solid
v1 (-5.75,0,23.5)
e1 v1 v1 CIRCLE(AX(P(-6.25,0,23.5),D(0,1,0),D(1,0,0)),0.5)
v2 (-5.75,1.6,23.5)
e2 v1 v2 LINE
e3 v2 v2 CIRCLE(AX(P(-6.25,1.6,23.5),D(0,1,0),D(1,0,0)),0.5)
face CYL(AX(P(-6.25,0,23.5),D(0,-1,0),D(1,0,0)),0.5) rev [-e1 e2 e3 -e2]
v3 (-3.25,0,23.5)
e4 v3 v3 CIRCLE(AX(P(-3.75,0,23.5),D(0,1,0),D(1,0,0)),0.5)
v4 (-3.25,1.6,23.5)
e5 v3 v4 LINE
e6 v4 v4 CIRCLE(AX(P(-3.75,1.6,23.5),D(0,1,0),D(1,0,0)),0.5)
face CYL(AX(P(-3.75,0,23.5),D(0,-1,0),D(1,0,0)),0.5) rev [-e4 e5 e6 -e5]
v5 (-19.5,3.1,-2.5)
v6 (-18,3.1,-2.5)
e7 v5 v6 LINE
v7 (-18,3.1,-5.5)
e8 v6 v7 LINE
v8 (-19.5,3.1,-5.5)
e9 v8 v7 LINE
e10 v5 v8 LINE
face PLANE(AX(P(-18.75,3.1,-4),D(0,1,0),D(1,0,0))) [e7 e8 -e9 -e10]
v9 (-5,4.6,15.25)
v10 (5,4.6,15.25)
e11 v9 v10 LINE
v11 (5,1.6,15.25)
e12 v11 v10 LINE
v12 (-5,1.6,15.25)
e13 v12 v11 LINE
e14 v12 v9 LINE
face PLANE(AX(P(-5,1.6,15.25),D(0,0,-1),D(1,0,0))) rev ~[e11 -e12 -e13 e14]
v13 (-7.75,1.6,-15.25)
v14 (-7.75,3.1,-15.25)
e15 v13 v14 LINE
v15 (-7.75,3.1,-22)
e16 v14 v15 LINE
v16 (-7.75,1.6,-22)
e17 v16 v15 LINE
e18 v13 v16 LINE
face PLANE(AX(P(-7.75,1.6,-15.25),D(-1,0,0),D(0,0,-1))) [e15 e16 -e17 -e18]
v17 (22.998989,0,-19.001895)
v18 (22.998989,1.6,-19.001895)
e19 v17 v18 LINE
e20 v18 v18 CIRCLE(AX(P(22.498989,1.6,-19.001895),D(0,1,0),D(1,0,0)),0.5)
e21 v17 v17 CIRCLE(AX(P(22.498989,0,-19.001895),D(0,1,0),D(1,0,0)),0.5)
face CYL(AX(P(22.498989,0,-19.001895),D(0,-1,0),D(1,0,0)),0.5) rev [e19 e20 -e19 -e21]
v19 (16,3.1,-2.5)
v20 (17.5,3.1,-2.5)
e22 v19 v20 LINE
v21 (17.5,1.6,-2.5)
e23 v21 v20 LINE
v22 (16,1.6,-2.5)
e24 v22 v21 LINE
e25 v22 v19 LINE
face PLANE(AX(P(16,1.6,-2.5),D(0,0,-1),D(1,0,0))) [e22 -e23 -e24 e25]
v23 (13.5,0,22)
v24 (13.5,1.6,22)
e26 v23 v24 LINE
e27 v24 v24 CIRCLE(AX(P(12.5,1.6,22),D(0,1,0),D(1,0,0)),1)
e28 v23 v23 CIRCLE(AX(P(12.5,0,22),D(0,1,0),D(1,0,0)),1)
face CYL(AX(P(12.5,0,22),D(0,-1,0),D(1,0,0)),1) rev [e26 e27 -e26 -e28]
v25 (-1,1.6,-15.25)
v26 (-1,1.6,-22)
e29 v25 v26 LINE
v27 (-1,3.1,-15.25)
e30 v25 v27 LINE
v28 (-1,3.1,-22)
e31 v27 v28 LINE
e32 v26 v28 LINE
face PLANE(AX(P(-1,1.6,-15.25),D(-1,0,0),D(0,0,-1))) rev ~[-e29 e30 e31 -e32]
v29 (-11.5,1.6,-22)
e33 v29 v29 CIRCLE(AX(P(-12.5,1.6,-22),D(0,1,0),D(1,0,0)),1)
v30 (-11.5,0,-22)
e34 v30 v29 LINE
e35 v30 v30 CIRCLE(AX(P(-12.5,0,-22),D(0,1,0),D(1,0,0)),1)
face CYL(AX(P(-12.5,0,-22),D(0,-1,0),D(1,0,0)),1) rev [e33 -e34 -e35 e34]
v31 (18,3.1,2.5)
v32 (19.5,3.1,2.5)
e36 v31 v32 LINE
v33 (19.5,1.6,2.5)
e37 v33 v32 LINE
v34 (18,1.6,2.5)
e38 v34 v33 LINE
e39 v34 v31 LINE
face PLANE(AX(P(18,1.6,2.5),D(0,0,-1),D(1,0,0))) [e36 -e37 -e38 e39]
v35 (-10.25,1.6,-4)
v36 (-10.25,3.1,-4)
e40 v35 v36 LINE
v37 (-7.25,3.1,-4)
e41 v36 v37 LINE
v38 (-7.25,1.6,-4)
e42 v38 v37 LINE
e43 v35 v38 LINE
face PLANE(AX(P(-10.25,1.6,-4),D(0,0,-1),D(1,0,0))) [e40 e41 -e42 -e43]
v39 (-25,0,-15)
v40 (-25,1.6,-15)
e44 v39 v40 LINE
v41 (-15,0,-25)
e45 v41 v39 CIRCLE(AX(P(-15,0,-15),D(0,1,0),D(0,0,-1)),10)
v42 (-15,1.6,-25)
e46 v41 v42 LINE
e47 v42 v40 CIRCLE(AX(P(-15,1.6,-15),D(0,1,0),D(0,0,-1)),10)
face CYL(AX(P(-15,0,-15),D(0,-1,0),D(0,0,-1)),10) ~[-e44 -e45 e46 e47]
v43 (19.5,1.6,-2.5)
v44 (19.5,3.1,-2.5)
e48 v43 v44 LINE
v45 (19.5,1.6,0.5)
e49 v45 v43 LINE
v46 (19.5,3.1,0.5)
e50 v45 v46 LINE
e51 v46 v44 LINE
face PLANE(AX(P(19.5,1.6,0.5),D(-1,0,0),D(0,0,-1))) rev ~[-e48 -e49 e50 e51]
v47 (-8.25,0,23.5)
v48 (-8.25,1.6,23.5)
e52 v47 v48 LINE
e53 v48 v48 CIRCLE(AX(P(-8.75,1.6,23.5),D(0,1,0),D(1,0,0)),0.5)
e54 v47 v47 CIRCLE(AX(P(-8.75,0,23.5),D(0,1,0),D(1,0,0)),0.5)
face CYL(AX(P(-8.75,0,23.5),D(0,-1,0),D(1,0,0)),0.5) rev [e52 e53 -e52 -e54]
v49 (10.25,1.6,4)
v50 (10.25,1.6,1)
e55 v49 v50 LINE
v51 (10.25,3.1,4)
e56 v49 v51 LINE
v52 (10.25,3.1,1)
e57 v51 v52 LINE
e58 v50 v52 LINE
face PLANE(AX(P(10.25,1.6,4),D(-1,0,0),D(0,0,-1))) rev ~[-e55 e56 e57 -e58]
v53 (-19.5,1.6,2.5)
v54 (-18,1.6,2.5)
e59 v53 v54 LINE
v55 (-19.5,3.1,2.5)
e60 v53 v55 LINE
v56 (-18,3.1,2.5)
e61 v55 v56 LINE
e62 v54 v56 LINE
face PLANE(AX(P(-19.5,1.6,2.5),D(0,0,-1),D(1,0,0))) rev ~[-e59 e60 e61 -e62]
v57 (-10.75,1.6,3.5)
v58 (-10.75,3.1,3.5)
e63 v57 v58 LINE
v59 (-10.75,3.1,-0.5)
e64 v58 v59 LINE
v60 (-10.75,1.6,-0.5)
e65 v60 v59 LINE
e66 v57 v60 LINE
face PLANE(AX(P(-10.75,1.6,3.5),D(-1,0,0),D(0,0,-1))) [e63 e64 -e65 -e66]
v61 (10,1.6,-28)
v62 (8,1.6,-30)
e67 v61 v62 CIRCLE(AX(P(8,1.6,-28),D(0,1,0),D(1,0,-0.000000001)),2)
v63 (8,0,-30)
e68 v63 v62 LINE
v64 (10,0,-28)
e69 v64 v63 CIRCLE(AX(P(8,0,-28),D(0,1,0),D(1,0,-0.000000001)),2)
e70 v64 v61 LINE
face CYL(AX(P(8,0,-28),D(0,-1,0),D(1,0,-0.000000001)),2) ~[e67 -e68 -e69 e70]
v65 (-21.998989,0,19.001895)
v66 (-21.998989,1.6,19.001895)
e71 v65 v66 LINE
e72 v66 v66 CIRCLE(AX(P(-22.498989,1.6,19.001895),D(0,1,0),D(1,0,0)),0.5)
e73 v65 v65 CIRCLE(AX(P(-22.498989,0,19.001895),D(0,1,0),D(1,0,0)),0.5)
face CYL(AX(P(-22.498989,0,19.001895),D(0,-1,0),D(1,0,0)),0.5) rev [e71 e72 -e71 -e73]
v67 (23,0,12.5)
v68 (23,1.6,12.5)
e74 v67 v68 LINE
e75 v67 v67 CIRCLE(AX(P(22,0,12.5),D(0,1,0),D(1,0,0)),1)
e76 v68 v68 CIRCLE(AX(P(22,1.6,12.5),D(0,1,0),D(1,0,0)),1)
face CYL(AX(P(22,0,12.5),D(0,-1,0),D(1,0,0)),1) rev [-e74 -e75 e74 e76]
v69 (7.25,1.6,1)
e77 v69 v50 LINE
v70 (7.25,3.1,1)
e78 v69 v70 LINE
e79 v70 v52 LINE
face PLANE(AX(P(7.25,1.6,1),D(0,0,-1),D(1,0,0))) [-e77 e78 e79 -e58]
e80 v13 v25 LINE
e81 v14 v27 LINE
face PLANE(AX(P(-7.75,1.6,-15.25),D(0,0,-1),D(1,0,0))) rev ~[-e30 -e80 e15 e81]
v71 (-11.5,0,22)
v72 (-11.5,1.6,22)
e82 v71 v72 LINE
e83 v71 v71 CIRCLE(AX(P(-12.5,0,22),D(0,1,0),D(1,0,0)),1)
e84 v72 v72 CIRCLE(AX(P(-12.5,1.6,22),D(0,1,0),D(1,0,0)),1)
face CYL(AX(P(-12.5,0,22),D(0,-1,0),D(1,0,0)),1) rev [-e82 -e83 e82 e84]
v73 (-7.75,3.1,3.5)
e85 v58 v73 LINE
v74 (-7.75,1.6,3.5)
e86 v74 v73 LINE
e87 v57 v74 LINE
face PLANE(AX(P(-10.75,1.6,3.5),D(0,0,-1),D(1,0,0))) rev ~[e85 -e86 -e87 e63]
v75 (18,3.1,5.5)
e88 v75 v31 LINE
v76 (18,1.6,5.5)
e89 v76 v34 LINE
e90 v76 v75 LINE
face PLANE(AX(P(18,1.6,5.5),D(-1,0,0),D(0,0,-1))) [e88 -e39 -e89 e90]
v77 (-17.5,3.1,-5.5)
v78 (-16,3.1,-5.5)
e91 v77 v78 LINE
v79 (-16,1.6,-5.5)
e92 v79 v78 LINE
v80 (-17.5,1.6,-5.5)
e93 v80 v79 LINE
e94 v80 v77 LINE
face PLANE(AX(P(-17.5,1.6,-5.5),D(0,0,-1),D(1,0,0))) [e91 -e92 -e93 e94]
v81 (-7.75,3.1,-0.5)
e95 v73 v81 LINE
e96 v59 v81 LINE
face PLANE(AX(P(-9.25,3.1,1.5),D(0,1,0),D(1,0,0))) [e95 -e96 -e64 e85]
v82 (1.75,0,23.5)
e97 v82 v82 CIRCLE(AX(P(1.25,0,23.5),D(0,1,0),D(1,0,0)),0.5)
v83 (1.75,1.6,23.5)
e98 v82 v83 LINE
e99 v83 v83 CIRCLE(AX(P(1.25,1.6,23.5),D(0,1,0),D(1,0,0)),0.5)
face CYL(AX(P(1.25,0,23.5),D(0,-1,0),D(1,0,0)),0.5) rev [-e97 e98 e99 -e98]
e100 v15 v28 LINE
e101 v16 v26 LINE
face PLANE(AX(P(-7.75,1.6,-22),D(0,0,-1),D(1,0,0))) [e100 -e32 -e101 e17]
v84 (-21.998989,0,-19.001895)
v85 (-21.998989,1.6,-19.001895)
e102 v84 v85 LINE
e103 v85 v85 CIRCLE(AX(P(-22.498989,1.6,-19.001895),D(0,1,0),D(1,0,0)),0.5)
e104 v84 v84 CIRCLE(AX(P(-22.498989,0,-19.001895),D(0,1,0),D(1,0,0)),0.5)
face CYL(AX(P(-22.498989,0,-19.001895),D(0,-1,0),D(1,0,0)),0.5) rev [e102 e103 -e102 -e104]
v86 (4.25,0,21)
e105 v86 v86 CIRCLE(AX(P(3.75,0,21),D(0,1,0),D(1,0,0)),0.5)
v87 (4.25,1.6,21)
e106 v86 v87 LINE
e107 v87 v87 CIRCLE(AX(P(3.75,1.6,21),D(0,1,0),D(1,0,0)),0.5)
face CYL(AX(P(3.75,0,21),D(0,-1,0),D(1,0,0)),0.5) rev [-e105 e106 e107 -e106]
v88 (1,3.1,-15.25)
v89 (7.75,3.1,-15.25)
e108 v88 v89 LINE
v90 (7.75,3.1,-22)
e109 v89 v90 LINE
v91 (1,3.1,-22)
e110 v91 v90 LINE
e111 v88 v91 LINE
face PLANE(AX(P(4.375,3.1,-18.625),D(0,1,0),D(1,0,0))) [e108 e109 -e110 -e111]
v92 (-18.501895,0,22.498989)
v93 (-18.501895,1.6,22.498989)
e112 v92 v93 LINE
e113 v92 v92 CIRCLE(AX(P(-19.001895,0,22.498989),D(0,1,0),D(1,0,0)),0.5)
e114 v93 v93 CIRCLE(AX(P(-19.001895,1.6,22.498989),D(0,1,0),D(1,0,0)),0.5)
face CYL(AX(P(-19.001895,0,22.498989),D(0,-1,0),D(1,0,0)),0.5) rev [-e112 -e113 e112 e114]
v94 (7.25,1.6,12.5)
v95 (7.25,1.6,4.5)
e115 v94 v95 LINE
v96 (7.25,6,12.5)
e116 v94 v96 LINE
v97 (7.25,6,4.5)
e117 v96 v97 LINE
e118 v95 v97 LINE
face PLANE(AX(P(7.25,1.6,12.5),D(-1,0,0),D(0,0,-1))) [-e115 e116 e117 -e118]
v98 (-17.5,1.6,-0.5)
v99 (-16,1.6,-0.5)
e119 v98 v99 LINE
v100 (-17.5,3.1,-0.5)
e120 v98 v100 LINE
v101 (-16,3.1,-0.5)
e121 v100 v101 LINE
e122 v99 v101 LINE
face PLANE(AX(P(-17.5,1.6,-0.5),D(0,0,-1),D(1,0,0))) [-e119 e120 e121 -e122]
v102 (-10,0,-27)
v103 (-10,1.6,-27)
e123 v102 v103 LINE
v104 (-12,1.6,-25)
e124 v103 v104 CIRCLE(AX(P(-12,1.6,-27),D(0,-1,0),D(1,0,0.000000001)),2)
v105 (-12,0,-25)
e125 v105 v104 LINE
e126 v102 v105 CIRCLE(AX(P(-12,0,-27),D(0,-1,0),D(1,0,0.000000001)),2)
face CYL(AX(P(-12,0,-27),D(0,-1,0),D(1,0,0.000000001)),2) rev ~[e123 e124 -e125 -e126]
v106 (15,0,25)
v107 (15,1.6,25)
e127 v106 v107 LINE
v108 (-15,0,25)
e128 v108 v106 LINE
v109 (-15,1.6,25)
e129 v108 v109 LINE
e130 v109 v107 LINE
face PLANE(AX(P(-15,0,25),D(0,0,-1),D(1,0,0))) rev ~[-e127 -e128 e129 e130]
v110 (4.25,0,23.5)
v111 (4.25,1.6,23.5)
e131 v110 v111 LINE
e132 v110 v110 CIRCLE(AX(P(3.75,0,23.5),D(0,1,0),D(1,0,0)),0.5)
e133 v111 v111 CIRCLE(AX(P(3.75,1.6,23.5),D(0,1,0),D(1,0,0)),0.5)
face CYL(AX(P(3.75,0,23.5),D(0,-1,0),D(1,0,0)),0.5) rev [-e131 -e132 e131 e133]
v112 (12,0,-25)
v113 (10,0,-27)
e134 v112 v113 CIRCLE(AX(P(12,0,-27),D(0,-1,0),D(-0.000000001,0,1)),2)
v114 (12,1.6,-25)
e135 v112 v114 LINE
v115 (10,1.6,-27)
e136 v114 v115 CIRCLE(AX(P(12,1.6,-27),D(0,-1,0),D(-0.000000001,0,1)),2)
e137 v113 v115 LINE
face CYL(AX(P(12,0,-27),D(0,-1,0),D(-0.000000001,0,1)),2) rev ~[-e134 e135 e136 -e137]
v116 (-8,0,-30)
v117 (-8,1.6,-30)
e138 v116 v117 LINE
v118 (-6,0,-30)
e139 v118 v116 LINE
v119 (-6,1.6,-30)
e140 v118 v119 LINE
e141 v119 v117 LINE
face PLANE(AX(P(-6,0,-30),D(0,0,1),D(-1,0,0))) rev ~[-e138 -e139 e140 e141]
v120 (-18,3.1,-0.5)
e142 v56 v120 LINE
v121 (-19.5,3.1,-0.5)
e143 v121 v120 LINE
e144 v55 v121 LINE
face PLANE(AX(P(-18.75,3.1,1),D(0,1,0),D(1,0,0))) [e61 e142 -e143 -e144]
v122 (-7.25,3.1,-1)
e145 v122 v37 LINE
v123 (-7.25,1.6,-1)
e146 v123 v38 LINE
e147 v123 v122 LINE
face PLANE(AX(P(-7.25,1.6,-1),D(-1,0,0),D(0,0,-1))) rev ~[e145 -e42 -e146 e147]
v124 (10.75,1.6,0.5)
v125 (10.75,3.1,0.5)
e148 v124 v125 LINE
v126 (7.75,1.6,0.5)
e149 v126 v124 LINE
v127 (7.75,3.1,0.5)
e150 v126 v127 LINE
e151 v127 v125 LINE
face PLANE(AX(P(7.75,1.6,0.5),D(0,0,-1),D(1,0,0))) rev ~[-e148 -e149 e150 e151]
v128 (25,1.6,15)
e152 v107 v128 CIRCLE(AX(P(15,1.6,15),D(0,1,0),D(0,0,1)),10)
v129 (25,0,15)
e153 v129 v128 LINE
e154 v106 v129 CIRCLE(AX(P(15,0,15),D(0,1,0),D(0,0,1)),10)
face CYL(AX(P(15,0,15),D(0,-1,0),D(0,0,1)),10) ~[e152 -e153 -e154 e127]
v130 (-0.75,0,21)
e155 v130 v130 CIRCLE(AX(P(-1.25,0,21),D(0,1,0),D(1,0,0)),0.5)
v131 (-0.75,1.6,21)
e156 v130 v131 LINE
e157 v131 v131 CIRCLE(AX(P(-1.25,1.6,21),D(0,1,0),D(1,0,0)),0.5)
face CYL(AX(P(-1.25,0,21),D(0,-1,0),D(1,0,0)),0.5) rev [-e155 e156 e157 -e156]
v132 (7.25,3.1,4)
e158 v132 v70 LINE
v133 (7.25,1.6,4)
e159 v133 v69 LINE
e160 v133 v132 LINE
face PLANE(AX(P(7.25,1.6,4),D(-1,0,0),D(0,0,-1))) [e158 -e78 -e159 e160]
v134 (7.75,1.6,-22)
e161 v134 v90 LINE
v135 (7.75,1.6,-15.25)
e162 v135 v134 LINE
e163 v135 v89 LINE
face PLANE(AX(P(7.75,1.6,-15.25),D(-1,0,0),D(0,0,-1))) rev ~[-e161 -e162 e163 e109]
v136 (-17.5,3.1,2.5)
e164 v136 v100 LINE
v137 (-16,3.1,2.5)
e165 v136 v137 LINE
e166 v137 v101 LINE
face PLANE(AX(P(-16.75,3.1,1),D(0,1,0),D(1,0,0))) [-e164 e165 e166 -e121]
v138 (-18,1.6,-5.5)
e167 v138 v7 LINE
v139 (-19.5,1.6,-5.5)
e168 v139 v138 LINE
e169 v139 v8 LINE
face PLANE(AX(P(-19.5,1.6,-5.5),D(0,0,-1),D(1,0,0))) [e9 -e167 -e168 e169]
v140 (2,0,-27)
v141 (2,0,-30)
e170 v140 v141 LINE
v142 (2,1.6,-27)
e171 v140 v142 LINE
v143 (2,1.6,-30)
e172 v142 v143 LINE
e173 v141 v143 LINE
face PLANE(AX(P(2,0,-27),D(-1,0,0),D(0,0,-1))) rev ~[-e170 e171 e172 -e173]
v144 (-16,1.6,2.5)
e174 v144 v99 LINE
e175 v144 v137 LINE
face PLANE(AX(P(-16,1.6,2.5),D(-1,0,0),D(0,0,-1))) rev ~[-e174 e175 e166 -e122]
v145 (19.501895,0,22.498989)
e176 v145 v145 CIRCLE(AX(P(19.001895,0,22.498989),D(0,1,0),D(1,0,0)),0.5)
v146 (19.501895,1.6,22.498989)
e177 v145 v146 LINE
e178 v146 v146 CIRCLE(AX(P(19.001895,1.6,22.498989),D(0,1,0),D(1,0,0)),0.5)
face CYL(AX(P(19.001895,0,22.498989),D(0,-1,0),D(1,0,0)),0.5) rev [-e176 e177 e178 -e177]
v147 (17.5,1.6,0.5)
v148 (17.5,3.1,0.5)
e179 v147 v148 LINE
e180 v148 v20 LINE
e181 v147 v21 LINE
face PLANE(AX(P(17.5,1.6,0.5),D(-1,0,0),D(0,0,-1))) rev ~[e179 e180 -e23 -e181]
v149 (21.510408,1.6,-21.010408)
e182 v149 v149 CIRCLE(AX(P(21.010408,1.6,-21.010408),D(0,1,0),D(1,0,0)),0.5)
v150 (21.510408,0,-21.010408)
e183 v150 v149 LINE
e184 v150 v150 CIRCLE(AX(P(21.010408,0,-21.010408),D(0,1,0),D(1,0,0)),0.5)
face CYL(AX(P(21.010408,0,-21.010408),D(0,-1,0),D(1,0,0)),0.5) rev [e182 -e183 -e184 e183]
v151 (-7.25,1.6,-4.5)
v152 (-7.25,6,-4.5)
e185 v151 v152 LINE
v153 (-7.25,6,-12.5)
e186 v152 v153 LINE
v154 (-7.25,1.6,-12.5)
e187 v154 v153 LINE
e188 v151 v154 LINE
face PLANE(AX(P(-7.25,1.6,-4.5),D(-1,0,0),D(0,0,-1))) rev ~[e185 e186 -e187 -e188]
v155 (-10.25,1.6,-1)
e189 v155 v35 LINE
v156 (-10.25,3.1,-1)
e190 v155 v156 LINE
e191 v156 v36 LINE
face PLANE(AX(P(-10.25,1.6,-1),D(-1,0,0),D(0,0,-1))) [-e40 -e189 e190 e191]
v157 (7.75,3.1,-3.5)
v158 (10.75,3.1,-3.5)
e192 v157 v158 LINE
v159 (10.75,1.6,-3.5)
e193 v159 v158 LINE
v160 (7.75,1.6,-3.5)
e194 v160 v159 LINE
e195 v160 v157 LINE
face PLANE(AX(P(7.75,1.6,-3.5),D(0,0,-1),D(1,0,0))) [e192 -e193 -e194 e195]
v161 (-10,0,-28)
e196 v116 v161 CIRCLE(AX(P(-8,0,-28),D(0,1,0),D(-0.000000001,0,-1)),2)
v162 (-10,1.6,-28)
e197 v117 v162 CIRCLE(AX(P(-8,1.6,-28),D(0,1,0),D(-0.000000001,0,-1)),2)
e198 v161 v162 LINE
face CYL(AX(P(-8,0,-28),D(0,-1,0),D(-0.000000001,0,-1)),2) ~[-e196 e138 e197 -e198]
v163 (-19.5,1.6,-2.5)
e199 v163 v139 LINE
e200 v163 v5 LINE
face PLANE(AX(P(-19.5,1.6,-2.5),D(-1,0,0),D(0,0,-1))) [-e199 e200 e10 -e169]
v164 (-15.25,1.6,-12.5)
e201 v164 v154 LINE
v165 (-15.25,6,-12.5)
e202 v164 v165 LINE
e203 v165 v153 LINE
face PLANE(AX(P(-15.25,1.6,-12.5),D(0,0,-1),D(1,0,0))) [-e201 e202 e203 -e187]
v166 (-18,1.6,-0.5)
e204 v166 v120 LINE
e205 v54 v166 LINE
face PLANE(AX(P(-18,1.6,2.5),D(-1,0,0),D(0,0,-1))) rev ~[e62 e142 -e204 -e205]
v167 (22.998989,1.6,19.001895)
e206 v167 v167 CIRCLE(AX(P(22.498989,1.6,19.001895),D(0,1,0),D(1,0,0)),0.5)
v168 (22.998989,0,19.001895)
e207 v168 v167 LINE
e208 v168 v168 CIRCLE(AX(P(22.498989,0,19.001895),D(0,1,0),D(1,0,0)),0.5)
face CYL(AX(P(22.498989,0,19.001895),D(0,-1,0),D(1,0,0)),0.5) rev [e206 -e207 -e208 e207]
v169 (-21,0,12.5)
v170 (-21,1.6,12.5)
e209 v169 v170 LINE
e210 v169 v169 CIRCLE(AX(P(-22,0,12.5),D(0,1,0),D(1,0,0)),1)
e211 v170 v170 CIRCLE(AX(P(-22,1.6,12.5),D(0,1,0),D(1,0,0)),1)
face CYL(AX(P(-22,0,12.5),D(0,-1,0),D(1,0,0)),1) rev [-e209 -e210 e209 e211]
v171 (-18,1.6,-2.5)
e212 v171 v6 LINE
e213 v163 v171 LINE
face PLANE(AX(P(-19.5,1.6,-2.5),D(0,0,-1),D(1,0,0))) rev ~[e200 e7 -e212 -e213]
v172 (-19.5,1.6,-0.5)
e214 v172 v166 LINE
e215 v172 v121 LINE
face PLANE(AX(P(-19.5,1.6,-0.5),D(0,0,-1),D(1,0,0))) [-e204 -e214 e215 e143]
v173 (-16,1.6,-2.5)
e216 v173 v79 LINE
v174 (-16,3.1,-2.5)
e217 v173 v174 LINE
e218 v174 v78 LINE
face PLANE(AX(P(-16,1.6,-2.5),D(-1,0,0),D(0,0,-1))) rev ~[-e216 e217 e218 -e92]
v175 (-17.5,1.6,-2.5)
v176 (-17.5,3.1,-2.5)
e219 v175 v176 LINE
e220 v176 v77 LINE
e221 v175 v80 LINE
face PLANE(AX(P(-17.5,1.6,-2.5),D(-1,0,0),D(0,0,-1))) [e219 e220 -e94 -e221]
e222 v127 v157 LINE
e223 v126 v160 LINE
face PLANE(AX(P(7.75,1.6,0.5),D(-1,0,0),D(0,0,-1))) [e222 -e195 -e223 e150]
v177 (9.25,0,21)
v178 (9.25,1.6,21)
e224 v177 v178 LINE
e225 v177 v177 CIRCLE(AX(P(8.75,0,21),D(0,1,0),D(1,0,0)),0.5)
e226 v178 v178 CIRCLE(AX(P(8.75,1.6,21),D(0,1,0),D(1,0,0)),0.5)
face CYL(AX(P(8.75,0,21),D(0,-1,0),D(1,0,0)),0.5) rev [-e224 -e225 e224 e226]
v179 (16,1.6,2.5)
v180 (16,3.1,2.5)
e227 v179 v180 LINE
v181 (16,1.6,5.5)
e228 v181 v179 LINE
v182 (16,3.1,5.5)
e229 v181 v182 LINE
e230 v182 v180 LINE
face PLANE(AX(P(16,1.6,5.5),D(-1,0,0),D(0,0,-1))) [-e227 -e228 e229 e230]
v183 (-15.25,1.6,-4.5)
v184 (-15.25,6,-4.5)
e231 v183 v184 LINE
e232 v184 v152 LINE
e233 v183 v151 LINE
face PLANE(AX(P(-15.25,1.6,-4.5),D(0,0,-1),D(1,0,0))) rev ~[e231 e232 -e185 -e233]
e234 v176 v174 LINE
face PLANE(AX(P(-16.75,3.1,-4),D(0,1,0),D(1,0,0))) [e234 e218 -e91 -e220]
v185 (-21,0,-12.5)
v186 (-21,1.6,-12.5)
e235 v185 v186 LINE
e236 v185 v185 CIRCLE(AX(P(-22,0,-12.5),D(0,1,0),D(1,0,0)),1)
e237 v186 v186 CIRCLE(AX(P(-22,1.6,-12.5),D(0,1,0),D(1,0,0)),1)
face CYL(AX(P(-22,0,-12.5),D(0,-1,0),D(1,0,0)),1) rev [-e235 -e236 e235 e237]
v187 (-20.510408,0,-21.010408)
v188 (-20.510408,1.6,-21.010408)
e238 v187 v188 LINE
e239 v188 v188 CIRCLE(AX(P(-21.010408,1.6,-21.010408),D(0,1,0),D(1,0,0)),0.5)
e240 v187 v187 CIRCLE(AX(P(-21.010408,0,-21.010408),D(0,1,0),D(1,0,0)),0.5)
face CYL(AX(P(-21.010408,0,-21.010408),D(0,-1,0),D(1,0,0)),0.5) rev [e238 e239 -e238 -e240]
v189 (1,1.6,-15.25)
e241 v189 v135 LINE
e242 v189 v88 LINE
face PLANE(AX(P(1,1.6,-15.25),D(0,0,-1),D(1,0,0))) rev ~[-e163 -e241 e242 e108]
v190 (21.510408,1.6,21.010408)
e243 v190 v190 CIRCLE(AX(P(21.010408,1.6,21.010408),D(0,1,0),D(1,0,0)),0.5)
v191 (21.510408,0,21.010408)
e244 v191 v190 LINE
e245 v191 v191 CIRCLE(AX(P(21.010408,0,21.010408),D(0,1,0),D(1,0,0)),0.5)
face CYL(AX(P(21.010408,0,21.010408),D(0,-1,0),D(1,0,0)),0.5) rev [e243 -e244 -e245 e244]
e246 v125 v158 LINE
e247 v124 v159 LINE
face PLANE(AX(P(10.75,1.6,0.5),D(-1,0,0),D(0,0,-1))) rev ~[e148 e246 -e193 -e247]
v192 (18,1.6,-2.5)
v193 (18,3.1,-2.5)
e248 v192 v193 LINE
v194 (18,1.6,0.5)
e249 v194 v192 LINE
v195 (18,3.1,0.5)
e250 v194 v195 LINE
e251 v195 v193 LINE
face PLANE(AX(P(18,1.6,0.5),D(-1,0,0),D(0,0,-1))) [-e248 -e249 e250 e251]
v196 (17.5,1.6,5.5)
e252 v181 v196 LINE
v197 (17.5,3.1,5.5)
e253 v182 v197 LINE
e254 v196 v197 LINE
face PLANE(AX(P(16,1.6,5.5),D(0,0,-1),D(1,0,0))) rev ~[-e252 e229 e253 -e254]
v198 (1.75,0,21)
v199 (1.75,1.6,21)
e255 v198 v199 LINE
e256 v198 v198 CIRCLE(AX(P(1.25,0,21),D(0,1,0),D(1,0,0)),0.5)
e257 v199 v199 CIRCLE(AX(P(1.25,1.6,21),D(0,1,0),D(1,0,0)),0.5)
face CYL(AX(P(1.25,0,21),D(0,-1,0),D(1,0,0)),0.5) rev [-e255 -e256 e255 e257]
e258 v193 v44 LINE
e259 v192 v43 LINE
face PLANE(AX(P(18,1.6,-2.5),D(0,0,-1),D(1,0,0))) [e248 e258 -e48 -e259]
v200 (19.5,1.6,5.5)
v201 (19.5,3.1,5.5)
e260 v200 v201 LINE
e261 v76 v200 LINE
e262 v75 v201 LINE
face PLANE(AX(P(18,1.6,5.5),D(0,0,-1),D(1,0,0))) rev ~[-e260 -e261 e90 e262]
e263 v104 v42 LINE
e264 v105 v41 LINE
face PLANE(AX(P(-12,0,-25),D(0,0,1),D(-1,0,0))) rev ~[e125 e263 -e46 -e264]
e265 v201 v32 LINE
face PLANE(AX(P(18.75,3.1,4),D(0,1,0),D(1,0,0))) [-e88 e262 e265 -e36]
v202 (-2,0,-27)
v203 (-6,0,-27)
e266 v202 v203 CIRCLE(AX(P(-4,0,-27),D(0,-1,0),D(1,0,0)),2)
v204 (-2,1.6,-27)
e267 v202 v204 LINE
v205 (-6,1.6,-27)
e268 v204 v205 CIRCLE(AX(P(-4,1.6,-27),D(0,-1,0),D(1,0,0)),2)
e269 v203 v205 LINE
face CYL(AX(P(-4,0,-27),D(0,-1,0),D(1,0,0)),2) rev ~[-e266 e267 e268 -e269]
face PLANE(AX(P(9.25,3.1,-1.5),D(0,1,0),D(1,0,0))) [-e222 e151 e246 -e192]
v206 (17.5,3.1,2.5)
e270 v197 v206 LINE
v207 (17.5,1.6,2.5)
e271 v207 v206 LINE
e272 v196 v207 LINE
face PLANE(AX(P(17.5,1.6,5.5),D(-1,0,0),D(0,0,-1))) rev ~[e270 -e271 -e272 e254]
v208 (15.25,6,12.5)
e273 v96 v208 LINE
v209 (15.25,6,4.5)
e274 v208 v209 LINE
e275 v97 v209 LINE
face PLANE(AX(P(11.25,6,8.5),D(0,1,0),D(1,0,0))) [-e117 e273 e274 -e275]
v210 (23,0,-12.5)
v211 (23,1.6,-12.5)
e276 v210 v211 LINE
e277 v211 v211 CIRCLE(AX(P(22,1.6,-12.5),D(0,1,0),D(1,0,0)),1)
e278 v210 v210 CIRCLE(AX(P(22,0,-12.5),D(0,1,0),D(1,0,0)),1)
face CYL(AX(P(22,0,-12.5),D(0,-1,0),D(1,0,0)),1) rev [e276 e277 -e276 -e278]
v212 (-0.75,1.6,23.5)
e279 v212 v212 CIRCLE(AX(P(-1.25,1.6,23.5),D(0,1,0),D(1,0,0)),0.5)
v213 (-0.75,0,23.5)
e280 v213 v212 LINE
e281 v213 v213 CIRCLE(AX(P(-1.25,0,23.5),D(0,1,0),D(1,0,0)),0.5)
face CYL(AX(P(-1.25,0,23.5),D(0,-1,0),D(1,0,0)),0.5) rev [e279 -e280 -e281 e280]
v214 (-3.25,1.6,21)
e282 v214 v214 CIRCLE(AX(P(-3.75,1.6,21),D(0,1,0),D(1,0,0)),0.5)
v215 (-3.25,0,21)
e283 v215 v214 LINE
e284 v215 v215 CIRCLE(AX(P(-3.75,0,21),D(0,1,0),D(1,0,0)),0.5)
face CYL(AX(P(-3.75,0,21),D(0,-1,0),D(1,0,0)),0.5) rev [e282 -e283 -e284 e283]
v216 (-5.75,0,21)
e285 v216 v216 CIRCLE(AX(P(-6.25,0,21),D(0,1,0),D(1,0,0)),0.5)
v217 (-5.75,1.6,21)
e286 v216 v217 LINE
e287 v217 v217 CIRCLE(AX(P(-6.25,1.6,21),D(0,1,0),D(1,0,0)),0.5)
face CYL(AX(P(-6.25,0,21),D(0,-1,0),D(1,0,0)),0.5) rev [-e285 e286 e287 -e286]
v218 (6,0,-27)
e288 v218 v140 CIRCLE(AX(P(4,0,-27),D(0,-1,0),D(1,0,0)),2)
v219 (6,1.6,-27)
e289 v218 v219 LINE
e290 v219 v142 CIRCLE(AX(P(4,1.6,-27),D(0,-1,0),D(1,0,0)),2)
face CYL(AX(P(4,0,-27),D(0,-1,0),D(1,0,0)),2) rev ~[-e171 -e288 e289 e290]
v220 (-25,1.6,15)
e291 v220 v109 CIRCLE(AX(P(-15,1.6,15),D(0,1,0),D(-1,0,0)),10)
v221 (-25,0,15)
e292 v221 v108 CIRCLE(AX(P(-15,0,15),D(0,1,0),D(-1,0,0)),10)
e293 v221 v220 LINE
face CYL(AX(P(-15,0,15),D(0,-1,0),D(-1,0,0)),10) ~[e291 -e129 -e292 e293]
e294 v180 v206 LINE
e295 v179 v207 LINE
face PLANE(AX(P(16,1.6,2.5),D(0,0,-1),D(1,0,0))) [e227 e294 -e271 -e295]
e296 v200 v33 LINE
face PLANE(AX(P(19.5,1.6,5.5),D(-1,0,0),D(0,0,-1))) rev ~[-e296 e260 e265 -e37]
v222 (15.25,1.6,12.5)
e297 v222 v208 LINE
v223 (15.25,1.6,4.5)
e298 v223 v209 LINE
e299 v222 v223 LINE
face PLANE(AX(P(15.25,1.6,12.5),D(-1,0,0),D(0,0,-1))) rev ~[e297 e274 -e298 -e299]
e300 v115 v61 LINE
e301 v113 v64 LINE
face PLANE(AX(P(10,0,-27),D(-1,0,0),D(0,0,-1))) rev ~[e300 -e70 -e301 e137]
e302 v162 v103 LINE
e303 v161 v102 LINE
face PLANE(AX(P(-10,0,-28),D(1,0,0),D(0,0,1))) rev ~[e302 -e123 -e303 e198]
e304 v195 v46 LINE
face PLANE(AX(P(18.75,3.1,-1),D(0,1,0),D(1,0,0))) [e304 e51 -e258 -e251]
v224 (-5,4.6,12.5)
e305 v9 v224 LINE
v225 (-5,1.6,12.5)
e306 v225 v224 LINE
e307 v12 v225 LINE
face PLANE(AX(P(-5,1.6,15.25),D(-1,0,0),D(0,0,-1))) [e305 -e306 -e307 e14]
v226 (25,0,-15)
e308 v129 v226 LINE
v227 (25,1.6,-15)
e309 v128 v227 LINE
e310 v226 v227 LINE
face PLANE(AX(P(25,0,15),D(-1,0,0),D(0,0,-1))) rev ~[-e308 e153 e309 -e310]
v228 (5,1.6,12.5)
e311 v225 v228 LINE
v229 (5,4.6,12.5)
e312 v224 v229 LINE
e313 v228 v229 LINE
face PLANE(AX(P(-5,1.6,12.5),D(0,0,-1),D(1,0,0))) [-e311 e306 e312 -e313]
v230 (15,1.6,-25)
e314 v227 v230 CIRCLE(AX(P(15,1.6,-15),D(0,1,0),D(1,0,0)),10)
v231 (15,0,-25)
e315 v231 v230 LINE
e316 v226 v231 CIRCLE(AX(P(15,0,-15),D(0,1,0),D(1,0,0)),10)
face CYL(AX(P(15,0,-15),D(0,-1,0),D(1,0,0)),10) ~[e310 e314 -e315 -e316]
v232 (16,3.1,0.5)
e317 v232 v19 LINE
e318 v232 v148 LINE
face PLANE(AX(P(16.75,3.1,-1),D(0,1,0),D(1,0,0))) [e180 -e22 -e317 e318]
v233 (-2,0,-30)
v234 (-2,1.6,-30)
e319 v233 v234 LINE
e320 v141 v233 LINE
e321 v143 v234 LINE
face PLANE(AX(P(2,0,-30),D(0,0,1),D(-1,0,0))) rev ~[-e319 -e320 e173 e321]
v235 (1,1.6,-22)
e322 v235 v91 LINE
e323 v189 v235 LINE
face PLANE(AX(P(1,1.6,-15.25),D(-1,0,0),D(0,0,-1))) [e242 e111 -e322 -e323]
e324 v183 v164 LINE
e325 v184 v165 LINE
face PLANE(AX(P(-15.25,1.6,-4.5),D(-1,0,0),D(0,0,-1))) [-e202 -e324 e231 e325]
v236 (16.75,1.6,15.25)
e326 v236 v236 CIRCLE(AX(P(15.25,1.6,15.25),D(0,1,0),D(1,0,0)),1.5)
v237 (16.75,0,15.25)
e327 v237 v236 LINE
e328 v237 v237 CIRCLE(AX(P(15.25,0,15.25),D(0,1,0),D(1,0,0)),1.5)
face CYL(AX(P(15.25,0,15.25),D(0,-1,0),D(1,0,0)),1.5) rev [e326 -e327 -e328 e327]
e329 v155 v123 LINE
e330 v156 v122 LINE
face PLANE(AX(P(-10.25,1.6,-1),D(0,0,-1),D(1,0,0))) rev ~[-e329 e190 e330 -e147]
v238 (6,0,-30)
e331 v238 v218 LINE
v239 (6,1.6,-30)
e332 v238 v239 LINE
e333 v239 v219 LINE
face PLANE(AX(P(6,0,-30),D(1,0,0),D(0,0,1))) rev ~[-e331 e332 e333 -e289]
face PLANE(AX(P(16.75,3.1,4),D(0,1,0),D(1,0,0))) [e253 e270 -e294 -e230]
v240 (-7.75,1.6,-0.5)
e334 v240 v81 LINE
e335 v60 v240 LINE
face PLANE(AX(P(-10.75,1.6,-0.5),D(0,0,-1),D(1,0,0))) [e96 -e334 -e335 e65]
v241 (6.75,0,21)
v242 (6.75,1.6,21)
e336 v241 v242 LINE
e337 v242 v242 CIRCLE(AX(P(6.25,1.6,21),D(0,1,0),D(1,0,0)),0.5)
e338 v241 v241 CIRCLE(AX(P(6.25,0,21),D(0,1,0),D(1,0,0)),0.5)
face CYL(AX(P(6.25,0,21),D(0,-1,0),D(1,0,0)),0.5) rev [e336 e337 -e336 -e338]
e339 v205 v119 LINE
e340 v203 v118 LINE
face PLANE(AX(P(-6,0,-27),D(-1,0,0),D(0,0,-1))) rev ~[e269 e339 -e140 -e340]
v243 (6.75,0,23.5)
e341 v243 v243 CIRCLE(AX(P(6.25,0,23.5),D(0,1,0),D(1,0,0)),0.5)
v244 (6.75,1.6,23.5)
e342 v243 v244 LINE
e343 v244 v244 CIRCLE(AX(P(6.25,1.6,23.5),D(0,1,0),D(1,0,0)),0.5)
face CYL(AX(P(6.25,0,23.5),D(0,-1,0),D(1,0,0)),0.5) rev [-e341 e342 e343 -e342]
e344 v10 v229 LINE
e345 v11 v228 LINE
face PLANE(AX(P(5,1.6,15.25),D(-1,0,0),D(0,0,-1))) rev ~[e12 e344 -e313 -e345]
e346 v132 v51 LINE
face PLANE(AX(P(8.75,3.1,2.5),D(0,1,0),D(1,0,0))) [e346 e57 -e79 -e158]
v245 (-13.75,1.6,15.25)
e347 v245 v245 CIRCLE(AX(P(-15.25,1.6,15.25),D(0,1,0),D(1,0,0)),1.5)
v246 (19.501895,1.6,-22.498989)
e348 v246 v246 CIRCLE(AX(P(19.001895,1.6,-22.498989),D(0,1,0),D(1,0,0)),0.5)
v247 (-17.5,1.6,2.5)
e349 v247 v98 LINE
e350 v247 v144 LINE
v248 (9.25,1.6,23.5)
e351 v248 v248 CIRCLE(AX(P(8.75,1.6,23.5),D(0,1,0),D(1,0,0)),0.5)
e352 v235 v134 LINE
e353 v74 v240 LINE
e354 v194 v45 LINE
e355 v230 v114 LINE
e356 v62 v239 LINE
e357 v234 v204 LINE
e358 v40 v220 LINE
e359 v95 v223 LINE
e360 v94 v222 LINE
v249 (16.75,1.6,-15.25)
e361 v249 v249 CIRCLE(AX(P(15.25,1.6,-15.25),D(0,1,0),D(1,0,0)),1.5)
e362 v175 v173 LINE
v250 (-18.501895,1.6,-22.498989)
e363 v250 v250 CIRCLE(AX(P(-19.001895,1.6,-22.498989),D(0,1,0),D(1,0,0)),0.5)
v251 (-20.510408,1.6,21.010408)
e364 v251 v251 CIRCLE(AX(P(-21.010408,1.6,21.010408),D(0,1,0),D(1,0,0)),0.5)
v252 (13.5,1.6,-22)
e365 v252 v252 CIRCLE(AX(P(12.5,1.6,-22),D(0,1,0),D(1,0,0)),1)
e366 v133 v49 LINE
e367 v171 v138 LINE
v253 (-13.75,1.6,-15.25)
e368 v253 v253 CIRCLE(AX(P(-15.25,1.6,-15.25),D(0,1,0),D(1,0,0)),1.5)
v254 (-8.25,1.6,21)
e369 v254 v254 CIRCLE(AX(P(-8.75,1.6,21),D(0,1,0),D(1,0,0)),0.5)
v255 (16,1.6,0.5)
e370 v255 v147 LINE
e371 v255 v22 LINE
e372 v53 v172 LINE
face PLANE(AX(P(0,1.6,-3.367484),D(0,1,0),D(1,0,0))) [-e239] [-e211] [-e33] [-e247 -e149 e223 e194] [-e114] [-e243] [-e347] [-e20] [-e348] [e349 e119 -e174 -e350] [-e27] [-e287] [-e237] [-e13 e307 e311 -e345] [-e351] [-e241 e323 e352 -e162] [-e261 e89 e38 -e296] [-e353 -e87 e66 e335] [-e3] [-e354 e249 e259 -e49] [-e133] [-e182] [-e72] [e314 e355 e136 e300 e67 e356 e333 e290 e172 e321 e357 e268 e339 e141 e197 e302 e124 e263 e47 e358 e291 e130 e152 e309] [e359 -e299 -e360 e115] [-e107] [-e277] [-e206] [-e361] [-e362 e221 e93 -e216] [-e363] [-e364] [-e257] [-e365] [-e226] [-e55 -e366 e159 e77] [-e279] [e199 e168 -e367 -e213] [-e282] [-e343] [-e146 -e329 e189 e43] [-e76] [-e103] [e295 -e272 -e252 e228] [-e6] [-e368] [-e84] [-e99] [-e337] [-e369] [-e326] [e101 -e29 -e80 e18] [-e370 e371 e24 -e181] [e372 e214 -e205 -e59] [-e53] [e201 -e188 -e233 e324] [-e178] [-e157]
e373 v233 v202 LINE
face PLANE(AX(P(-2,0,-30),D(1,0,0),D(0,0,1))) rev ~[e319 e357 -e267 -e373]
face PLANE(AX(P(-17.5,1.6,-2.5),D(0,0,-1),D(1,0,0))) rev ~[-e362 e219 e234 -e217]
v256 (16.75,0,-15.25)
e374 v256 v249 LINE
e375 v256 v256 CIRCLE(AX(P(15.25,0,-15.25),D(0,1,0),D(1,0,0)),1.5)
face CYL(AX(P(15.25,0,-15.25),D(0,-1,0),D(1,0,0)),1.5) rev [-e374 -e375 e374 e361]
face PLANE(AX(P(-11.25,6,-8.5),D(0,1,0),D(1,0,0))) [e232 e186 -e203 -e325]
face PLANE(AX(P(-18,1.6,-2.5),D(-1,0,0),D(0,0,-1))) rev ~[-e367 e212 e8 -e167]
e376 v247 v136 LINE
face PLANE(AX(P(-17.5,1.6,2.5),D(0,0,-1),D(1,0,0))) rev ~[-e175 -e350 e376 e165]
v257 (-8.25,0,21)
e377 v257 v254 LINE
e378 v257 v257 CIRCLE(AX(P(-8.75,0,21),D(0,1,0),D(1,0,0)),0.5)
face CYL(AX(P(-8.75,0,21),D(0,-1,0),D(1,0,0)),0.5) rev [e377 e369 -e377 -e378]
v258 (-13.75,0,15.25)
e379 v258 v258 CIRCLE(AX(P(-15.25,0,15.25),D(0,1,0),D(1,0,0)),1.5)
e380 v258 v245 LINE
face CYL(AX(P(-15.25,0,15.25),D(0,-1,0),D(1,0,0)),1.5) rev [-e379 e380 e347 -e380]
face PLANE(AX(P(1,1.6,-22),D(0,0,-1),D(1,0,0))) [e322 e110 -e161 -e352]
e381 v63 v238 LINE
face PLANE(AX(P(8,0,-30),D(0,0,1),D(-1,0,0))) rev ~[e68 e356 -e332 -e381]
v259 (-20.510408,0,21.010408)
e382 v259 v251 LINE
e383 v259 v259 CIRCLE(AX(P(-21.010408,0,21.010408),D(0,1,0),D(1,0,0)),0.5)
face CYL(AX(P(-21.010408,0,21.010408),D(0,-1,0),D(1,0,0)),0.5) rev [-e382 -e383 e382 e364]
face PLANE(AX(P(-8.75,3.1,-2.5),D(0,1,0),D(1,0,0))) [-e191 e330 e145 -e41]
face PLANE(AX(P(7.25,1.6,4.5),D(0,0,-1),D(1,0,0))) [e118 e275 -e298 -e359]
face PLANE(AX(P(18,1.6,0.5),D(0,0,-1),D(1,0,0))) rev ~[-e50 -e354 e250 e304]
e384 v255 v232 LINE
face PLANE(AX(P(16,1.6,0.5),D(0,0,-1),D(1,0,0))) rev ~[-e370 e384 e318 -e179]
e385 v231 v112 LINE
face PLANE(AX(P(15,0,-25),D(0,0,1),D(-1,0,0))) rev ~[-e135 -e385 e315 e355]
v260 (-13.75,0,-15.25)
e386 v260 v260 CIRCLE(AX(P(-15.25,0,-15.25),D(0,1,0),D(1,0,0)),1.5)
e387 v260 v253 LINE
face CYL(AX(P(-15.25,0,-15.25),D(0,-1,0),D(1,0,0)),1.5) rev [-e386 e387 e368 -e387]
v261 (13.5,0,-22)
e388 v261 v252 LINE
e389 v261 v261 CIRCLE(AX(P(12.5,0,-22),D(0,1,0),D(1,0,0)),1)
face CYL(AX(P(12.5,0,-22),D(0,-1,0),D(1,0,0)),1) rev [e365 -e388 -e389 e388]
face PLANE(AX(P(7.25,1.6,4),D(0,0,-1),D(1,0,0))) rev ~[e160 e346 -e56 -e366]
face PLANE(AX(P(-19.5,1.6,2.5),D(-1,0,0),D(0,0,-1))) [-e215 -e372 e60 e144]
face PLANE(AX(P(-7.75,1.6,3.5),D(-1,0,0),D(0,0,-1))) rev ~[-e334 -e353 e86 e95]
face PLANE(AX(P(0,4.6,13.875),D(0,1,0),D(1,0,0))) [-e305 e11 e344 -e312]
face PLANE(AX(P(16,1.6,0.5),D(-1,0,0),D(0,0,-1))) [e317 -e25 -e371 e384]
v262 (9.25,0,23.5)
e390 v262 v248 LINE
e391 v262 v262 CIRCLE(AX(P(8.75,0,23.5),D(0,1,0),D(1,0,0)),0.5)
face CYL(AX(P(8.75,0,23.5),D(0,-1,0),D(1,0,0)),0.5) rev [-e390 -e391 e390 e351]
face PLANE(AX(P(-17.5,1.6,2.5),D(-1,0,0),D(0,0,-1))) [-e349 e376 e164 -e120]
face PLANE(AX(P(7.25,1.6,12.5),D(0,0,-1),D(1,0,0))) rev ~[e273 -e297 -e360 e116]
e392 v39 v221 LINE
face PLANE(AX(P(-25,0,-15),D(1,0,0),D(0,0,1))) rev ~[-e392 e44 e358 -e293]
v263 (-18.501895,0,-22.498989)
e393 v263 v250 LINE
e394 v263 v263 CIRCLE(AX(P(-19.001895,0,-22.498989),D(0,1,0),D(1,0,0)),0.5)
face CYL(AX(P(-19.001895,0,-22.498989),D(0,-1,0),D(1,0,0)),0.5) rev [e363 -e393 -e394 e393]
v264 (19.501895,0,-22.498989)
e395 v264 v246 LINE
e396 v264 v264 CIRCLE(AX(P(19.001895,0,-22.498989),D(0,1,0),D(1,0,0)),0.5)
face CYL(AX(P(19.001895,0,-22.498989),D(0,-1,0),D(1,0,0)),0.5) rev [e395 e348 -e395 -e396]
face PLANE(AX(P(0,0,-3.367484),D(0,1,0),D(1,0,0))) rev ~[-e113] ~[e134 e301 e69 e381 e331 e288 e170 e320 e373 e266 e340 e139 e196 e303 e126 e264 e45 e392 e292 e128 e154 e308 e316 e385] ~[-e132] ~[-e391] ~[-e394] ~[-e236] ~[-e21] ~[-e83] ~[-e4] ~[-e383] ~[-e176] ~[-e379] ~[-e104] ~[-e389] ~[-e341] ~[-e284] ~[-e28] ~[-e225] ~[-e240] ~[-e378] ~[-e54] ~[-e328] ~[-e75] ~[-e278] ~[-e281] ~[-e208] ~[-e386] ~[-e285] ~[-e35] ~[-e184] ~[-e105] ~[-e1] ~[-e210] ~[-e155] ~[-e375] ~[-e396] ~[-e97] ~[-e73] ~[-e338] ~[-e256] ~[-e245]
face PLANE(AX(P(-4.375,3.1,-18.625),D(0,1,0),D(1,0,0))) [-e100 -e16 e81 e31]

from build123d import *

# Parameters (mm, degrees)
SKETCH1_R           = 1.5
SKETCH1_R_2         = 1
SKETCH1_R_3         = 0.5
BOSS_EXTRUDE1_DEPTH = 1.6
BOSS_EXTRUDE2_START = 1.6
SKETCH2_W           = 8
SKETCH2_H           = 8
BOSS_EXTRUDE2_DEPTH = 4.4
SKETCH3_W           = 10
SKETCH3_H           = 2.75
BOSS_EXTRUDE3_DEPTH = 3
SKETCH4_W           = 6.75
SKETCH4_H           = 6.75
SKETCH4_W_2         = 3
SKETCH4_H_2         = 3
SKETCH4_H_3         = 4
SKETCH4_W_3         = 1.5
BOSS_EXTRUDE4_DEPTH = 1.5


with BuildPart() as part:
    # Sketch1 → Boss-Extrude1 (new body)
    with BuildSketch(Plane(origin=(0, 0, 0), x_dir=(1, 0, 0), z_dir=(0, 1, 0))):
        with BuildLine():
            Line((-10, 28), (-10, 27))
            ThreePointArc((-10, 27), (-10.585786438, 25.585786438), (-12, 25))
            Line((-12, 25), (-15, 25))
            ThreePointArc((-15, 25), (-22.071067812, 22.071067812), (-25, 15))
            Line((-25, 15), (-25, -15))
            ThreePointArc((-25, -15), (-22.071067812, -22.071067812), (-15, -25))
            Line((-15, -25), (15, -25))
            ThreePointArc((15, -25), (22.071067812, -22.071067812), (25, -15))
            Line((25, -15), (25, 15))
            ThreePointArc((25, 15), (22.071067812, 22.071067812), (15, 25))
            Line((15, 25), (12, 25))
            ThreePointArc((12, 25), (10.585786438, 25.585786438), (10, 27))
            Line((10, 27), (10, 28))
            ThreePointArc((10, 28), (9.414213562, 29.414213562), (8, 30))
            Line((8, 30), (6, 30))
            Line((6, 30), (6, 27))
            ThreePointArc((6, 27), (4, 25), (2, 27))
            Line((2, 27), (2, 30))
            Line((2, 30), (-2, 30))
            Line((-2, 30), (-2, 27))
            ThreePointArc((-2, 27), (-4, 25), (-6, 27))
            Line((-6, 27), (-6, 30))
            Line((-6, 30), (-8, 30))
            ThreePointArc((-8, 30), (-9.414213562, 29.414213562), (-10, 28))
        make_face()
        with Locations((15.25, -15.25)):
            Circle(SKETCH1_R, mode=Mode.SUBTRACT)
        with Locations((-15.25, -15.25)):
            Circle(SKETCH1_R, mode=Mode.SUBTRACT)
        with Locations((-15.25, 15.25)):
            Circle(SKETCH1_R, mode=Mode.SUBTRACT)
        with Locations((15.25, 15.25)):
            Circle(SKETCH1_R, mode=Mode.SUBTRACT)
        with Locations((22, 12.5)):
            Circle(SKETCH1_R_2, mode=Mode.SUBTRACT)
        with Locations((22, -12.5)):
            Circle(SKETCH1_R_2, mode=Mode.SUBTRACT)
        with Locations((12.5, -22)):
            Circle(SKETCH1_R_2, mode=Mode.SUBTRACT)
        with Locations((-12.5, -22)):
            Circle(SKETCH1_R_2, mode=Mode.SUBTRACT)
        with Locations((-22, -12.5)):
            Circle(SKETCH1_R_2, mode=Mode.SUBTRACT)
        with Locations((-22, 12.5)):
            Circle(SKETCH1_R_2, mode=Mode.SUBTRACT)
        with Locations((-12.5, 22)):
            Circle(SKETCH1_R_2, mode=Mode.SUBTRACT)
        with Locations((12.5, 22)):
            Circle(SKETCH1_R_2, mode=Mode.SUBTRACT)
        with Locations((-1.25, -23.5)):
            Circle(SKETCH1_R_3, mode=Mode.SUBTRACT)
        with Locations((1.25, -23.5)):
            Circle(SKETCH1_R_3, mode=Mode.SUBTRACT)
        with Locations((-3.75, -23.5)):
            Circle(SKETCH1_R_3, mode=Mode.SUBTRACT)
        with Locations((-6.25, -23.5)):
            Circle(SKETCH1_R_3, mode=Mode.SUBTRACT)
        with Locations((-8.75, -23.5)):
            Circle(SKETCH1_R_3, mode=Mode.SUBTRACT)
        with Locations((3.75, -23.5)):
            Circle(SKETCH1_R_3, mode=Mode.SUBTRACT)
        with Locations((6.25, -23.5)):
            Circle(SKETCH1_R_3, mode=Mode.SUBTRACT)
        with Locations((8.75, -23.5)):
            Circle(SKETCH1_R_3, mode=Mode.SUBTRACT)
        with Locations((-8.75, -21)):
            Circle(SKETCH1_R_3, mode=Mode.SUBTRACT)
        with Locations((-6.25, -21)):
            Circle(SKETCH1_R_3, mode=Mode.SUBTRACT)
        with Locations((-3.75, -21)):
            Circle(SKETCH1_R_3, mode=Mode.SUBTRACT)
        with Locations((-1.25, -21)):
            Circle(SKETCH1_R_3, mode=Mode.SUBTRACT)
        with Locations((1.25, -21)):
            Circle(SKETCH1_R_3, mode=Mode.SUBTRACT)
        with Locations((3.75, -21)):
            Circle(SKETCH1_R_3, mode=Mode.SUBTRACT)
        with Locations((6.25, -21)):
            Circle(SKETCH1_R_3, mode=Mode.SUBTRACT)
        with Locations((8.75, -21)):
            Circle(SKETCH1_R_3, mode=Mode.SUBTRACT)
        with Locations((-21.01040764, -21.01040764)):
            Circle(SKETCH1_R_3, mode=Mode.SUBTRACT)
        with Locations((-19.001894566, -22.498989257)):
            Circle(SKETCH1_R_3, mode=Mode.SUBTRACT)
        with Locations((-22.498989257, -19.001894566)):
            Circle(SKETCH1_R_3, mode=Mode.SUBTRACT)
        with Locations((-19.001894566, 22.498989257)):
            Circle(SKETCH1_R_3, mode=Mode.SUBTRACT)
        with Locations((-21.01040764, 21.01040764)):
            Circle(SKETCH1_R_3, mode=Mode.SUBTRACT)
        with Locations((-22.498989257, 19.001894566)):
            Circle(SKETCH1_R_3, mode=Mode.SUBTRACT)
        with Locations((22.498989257, 19.001894566)):
            Circle(SKETCH1_R_3, mode=Mode.SUBTRACT)
        with Locations((21.01040764, 21.01040764)):
            Circle(SKETCH1_R_3, mode=Mode.SUBTRACT)
        with Locations((19.001894566, 22.498989257)):
            Circle(SKETCH1_R_3, mode=Mode.SUBTRACT)
        with Locations((19.001894566, -22.498989257)):
            Circle(SKETCH1_R_3, mode=Mode.SUBTRACT)
        with Locations((21.01040764, -21.01040764)):
            Circle(SKETCH1_R_3, mode=Mode.SUBTRACT)
        with Locations((22.498989257, -19.001894566)):
            Circle(SKETCH1_R_3, mode=Mode.SUBTRACT)
    extrude(amount=BOSS_EXTRUDE1_DEPTH)

    # Sketch2 → Boss-Extrude2 (add)
    with BuildSketch(Plane(origin=(0, 0, 0), x_dir=(1, 0, 0), z_dir=(0, 1, 0)).offset(BOSS_EXTRUDE2_START)):
        with Locations((-11.25, 8.5)):
            Rectangle(SKETCH2_W, SKETCH2_H)
        with Locations((11.25, -8.5)):
            Rectangle(SKETCH2_W, SKETCH2_H)
    extrude(amount=BOSS_EXTRUDE2_DEPTH)

    # Sketch3 → Boss-Extrude3 (add)
    with BuildSketch(Plane(origin=(0, 1.6, 0), x_dir=(1, 0, 0), z_dir=(0, 1, 0))):
        with Locations((0, -13.875)):
            Rectangle(SKETCH3_W, SKETCH3_H)
    extrude(amount=BOSS_EXTRUDE3_DEPTH)

    # Sketch4 → Boss-Extrude4 (add)
    with BuildSketch(Plane(origin=(0, 1.6, 0), x_dir=(1, 0, 0), z_dir=(0, 1, 0))):
        with Locations((-4.375, 18.625)):
            Rectangle(SKETCH4_W, SKETCH4_H)
        with Locations((4.375, 18.625)):
            Rectangle(SKETCH4_W, SKETCH4_H)
        with Locations((8.75, -2.5)):
            Rectangle(SKETCH4_W_2, SKETCH4_H_2)
        with Locations((9.25, 1.5)):
            Rectangle(SKETCH4_W_2, SKETCH4_H_3)
        with Locations((16.75, -4)):
            Rectangle(SKETCH4_W_3, SKETCH4_H_2)
        with Locations((-9.25, -1.5)):
            Rectangle(SKETCH4_W_2, SKETCH4_H_3)
        with Locations((16.75, 1)):
            Rectangle(SKETCH4_W_3, SKETCH4_H_2)
        with Locations((18.75, 1)):
            Rectangle(SKETCH4_W_3, SKETCH4_H_2)
        with Locations((18.75, -4)):
            Rectangle(SKETCH4_W_3, SKETCH4_H_2)
        with Locations((-8.75, 2.5)):
            Rectangle(SKETCH4_W_2, SKETCH4_H_2)
        with Locations((-16.75, -1)):
            Rectangle(SKETCH4_W_3, SKETCH4_H_2)
        with Locations((-18.75, -1)):
            Rectangle(SKETCH4_W_3, SKETCH4_H_2)
        with Locations((-16.75, 4)):
            Rectangle(SKETCH4_W_3, SKETCH4_H_2)
        with Locations((-18.75, 4)):
            Rectangle(SKETCH4_W_3, SKETCH4_H_2)
    extrude(amount=BOSS_EXTRUDE4_DEPTH)


solid = part.part
